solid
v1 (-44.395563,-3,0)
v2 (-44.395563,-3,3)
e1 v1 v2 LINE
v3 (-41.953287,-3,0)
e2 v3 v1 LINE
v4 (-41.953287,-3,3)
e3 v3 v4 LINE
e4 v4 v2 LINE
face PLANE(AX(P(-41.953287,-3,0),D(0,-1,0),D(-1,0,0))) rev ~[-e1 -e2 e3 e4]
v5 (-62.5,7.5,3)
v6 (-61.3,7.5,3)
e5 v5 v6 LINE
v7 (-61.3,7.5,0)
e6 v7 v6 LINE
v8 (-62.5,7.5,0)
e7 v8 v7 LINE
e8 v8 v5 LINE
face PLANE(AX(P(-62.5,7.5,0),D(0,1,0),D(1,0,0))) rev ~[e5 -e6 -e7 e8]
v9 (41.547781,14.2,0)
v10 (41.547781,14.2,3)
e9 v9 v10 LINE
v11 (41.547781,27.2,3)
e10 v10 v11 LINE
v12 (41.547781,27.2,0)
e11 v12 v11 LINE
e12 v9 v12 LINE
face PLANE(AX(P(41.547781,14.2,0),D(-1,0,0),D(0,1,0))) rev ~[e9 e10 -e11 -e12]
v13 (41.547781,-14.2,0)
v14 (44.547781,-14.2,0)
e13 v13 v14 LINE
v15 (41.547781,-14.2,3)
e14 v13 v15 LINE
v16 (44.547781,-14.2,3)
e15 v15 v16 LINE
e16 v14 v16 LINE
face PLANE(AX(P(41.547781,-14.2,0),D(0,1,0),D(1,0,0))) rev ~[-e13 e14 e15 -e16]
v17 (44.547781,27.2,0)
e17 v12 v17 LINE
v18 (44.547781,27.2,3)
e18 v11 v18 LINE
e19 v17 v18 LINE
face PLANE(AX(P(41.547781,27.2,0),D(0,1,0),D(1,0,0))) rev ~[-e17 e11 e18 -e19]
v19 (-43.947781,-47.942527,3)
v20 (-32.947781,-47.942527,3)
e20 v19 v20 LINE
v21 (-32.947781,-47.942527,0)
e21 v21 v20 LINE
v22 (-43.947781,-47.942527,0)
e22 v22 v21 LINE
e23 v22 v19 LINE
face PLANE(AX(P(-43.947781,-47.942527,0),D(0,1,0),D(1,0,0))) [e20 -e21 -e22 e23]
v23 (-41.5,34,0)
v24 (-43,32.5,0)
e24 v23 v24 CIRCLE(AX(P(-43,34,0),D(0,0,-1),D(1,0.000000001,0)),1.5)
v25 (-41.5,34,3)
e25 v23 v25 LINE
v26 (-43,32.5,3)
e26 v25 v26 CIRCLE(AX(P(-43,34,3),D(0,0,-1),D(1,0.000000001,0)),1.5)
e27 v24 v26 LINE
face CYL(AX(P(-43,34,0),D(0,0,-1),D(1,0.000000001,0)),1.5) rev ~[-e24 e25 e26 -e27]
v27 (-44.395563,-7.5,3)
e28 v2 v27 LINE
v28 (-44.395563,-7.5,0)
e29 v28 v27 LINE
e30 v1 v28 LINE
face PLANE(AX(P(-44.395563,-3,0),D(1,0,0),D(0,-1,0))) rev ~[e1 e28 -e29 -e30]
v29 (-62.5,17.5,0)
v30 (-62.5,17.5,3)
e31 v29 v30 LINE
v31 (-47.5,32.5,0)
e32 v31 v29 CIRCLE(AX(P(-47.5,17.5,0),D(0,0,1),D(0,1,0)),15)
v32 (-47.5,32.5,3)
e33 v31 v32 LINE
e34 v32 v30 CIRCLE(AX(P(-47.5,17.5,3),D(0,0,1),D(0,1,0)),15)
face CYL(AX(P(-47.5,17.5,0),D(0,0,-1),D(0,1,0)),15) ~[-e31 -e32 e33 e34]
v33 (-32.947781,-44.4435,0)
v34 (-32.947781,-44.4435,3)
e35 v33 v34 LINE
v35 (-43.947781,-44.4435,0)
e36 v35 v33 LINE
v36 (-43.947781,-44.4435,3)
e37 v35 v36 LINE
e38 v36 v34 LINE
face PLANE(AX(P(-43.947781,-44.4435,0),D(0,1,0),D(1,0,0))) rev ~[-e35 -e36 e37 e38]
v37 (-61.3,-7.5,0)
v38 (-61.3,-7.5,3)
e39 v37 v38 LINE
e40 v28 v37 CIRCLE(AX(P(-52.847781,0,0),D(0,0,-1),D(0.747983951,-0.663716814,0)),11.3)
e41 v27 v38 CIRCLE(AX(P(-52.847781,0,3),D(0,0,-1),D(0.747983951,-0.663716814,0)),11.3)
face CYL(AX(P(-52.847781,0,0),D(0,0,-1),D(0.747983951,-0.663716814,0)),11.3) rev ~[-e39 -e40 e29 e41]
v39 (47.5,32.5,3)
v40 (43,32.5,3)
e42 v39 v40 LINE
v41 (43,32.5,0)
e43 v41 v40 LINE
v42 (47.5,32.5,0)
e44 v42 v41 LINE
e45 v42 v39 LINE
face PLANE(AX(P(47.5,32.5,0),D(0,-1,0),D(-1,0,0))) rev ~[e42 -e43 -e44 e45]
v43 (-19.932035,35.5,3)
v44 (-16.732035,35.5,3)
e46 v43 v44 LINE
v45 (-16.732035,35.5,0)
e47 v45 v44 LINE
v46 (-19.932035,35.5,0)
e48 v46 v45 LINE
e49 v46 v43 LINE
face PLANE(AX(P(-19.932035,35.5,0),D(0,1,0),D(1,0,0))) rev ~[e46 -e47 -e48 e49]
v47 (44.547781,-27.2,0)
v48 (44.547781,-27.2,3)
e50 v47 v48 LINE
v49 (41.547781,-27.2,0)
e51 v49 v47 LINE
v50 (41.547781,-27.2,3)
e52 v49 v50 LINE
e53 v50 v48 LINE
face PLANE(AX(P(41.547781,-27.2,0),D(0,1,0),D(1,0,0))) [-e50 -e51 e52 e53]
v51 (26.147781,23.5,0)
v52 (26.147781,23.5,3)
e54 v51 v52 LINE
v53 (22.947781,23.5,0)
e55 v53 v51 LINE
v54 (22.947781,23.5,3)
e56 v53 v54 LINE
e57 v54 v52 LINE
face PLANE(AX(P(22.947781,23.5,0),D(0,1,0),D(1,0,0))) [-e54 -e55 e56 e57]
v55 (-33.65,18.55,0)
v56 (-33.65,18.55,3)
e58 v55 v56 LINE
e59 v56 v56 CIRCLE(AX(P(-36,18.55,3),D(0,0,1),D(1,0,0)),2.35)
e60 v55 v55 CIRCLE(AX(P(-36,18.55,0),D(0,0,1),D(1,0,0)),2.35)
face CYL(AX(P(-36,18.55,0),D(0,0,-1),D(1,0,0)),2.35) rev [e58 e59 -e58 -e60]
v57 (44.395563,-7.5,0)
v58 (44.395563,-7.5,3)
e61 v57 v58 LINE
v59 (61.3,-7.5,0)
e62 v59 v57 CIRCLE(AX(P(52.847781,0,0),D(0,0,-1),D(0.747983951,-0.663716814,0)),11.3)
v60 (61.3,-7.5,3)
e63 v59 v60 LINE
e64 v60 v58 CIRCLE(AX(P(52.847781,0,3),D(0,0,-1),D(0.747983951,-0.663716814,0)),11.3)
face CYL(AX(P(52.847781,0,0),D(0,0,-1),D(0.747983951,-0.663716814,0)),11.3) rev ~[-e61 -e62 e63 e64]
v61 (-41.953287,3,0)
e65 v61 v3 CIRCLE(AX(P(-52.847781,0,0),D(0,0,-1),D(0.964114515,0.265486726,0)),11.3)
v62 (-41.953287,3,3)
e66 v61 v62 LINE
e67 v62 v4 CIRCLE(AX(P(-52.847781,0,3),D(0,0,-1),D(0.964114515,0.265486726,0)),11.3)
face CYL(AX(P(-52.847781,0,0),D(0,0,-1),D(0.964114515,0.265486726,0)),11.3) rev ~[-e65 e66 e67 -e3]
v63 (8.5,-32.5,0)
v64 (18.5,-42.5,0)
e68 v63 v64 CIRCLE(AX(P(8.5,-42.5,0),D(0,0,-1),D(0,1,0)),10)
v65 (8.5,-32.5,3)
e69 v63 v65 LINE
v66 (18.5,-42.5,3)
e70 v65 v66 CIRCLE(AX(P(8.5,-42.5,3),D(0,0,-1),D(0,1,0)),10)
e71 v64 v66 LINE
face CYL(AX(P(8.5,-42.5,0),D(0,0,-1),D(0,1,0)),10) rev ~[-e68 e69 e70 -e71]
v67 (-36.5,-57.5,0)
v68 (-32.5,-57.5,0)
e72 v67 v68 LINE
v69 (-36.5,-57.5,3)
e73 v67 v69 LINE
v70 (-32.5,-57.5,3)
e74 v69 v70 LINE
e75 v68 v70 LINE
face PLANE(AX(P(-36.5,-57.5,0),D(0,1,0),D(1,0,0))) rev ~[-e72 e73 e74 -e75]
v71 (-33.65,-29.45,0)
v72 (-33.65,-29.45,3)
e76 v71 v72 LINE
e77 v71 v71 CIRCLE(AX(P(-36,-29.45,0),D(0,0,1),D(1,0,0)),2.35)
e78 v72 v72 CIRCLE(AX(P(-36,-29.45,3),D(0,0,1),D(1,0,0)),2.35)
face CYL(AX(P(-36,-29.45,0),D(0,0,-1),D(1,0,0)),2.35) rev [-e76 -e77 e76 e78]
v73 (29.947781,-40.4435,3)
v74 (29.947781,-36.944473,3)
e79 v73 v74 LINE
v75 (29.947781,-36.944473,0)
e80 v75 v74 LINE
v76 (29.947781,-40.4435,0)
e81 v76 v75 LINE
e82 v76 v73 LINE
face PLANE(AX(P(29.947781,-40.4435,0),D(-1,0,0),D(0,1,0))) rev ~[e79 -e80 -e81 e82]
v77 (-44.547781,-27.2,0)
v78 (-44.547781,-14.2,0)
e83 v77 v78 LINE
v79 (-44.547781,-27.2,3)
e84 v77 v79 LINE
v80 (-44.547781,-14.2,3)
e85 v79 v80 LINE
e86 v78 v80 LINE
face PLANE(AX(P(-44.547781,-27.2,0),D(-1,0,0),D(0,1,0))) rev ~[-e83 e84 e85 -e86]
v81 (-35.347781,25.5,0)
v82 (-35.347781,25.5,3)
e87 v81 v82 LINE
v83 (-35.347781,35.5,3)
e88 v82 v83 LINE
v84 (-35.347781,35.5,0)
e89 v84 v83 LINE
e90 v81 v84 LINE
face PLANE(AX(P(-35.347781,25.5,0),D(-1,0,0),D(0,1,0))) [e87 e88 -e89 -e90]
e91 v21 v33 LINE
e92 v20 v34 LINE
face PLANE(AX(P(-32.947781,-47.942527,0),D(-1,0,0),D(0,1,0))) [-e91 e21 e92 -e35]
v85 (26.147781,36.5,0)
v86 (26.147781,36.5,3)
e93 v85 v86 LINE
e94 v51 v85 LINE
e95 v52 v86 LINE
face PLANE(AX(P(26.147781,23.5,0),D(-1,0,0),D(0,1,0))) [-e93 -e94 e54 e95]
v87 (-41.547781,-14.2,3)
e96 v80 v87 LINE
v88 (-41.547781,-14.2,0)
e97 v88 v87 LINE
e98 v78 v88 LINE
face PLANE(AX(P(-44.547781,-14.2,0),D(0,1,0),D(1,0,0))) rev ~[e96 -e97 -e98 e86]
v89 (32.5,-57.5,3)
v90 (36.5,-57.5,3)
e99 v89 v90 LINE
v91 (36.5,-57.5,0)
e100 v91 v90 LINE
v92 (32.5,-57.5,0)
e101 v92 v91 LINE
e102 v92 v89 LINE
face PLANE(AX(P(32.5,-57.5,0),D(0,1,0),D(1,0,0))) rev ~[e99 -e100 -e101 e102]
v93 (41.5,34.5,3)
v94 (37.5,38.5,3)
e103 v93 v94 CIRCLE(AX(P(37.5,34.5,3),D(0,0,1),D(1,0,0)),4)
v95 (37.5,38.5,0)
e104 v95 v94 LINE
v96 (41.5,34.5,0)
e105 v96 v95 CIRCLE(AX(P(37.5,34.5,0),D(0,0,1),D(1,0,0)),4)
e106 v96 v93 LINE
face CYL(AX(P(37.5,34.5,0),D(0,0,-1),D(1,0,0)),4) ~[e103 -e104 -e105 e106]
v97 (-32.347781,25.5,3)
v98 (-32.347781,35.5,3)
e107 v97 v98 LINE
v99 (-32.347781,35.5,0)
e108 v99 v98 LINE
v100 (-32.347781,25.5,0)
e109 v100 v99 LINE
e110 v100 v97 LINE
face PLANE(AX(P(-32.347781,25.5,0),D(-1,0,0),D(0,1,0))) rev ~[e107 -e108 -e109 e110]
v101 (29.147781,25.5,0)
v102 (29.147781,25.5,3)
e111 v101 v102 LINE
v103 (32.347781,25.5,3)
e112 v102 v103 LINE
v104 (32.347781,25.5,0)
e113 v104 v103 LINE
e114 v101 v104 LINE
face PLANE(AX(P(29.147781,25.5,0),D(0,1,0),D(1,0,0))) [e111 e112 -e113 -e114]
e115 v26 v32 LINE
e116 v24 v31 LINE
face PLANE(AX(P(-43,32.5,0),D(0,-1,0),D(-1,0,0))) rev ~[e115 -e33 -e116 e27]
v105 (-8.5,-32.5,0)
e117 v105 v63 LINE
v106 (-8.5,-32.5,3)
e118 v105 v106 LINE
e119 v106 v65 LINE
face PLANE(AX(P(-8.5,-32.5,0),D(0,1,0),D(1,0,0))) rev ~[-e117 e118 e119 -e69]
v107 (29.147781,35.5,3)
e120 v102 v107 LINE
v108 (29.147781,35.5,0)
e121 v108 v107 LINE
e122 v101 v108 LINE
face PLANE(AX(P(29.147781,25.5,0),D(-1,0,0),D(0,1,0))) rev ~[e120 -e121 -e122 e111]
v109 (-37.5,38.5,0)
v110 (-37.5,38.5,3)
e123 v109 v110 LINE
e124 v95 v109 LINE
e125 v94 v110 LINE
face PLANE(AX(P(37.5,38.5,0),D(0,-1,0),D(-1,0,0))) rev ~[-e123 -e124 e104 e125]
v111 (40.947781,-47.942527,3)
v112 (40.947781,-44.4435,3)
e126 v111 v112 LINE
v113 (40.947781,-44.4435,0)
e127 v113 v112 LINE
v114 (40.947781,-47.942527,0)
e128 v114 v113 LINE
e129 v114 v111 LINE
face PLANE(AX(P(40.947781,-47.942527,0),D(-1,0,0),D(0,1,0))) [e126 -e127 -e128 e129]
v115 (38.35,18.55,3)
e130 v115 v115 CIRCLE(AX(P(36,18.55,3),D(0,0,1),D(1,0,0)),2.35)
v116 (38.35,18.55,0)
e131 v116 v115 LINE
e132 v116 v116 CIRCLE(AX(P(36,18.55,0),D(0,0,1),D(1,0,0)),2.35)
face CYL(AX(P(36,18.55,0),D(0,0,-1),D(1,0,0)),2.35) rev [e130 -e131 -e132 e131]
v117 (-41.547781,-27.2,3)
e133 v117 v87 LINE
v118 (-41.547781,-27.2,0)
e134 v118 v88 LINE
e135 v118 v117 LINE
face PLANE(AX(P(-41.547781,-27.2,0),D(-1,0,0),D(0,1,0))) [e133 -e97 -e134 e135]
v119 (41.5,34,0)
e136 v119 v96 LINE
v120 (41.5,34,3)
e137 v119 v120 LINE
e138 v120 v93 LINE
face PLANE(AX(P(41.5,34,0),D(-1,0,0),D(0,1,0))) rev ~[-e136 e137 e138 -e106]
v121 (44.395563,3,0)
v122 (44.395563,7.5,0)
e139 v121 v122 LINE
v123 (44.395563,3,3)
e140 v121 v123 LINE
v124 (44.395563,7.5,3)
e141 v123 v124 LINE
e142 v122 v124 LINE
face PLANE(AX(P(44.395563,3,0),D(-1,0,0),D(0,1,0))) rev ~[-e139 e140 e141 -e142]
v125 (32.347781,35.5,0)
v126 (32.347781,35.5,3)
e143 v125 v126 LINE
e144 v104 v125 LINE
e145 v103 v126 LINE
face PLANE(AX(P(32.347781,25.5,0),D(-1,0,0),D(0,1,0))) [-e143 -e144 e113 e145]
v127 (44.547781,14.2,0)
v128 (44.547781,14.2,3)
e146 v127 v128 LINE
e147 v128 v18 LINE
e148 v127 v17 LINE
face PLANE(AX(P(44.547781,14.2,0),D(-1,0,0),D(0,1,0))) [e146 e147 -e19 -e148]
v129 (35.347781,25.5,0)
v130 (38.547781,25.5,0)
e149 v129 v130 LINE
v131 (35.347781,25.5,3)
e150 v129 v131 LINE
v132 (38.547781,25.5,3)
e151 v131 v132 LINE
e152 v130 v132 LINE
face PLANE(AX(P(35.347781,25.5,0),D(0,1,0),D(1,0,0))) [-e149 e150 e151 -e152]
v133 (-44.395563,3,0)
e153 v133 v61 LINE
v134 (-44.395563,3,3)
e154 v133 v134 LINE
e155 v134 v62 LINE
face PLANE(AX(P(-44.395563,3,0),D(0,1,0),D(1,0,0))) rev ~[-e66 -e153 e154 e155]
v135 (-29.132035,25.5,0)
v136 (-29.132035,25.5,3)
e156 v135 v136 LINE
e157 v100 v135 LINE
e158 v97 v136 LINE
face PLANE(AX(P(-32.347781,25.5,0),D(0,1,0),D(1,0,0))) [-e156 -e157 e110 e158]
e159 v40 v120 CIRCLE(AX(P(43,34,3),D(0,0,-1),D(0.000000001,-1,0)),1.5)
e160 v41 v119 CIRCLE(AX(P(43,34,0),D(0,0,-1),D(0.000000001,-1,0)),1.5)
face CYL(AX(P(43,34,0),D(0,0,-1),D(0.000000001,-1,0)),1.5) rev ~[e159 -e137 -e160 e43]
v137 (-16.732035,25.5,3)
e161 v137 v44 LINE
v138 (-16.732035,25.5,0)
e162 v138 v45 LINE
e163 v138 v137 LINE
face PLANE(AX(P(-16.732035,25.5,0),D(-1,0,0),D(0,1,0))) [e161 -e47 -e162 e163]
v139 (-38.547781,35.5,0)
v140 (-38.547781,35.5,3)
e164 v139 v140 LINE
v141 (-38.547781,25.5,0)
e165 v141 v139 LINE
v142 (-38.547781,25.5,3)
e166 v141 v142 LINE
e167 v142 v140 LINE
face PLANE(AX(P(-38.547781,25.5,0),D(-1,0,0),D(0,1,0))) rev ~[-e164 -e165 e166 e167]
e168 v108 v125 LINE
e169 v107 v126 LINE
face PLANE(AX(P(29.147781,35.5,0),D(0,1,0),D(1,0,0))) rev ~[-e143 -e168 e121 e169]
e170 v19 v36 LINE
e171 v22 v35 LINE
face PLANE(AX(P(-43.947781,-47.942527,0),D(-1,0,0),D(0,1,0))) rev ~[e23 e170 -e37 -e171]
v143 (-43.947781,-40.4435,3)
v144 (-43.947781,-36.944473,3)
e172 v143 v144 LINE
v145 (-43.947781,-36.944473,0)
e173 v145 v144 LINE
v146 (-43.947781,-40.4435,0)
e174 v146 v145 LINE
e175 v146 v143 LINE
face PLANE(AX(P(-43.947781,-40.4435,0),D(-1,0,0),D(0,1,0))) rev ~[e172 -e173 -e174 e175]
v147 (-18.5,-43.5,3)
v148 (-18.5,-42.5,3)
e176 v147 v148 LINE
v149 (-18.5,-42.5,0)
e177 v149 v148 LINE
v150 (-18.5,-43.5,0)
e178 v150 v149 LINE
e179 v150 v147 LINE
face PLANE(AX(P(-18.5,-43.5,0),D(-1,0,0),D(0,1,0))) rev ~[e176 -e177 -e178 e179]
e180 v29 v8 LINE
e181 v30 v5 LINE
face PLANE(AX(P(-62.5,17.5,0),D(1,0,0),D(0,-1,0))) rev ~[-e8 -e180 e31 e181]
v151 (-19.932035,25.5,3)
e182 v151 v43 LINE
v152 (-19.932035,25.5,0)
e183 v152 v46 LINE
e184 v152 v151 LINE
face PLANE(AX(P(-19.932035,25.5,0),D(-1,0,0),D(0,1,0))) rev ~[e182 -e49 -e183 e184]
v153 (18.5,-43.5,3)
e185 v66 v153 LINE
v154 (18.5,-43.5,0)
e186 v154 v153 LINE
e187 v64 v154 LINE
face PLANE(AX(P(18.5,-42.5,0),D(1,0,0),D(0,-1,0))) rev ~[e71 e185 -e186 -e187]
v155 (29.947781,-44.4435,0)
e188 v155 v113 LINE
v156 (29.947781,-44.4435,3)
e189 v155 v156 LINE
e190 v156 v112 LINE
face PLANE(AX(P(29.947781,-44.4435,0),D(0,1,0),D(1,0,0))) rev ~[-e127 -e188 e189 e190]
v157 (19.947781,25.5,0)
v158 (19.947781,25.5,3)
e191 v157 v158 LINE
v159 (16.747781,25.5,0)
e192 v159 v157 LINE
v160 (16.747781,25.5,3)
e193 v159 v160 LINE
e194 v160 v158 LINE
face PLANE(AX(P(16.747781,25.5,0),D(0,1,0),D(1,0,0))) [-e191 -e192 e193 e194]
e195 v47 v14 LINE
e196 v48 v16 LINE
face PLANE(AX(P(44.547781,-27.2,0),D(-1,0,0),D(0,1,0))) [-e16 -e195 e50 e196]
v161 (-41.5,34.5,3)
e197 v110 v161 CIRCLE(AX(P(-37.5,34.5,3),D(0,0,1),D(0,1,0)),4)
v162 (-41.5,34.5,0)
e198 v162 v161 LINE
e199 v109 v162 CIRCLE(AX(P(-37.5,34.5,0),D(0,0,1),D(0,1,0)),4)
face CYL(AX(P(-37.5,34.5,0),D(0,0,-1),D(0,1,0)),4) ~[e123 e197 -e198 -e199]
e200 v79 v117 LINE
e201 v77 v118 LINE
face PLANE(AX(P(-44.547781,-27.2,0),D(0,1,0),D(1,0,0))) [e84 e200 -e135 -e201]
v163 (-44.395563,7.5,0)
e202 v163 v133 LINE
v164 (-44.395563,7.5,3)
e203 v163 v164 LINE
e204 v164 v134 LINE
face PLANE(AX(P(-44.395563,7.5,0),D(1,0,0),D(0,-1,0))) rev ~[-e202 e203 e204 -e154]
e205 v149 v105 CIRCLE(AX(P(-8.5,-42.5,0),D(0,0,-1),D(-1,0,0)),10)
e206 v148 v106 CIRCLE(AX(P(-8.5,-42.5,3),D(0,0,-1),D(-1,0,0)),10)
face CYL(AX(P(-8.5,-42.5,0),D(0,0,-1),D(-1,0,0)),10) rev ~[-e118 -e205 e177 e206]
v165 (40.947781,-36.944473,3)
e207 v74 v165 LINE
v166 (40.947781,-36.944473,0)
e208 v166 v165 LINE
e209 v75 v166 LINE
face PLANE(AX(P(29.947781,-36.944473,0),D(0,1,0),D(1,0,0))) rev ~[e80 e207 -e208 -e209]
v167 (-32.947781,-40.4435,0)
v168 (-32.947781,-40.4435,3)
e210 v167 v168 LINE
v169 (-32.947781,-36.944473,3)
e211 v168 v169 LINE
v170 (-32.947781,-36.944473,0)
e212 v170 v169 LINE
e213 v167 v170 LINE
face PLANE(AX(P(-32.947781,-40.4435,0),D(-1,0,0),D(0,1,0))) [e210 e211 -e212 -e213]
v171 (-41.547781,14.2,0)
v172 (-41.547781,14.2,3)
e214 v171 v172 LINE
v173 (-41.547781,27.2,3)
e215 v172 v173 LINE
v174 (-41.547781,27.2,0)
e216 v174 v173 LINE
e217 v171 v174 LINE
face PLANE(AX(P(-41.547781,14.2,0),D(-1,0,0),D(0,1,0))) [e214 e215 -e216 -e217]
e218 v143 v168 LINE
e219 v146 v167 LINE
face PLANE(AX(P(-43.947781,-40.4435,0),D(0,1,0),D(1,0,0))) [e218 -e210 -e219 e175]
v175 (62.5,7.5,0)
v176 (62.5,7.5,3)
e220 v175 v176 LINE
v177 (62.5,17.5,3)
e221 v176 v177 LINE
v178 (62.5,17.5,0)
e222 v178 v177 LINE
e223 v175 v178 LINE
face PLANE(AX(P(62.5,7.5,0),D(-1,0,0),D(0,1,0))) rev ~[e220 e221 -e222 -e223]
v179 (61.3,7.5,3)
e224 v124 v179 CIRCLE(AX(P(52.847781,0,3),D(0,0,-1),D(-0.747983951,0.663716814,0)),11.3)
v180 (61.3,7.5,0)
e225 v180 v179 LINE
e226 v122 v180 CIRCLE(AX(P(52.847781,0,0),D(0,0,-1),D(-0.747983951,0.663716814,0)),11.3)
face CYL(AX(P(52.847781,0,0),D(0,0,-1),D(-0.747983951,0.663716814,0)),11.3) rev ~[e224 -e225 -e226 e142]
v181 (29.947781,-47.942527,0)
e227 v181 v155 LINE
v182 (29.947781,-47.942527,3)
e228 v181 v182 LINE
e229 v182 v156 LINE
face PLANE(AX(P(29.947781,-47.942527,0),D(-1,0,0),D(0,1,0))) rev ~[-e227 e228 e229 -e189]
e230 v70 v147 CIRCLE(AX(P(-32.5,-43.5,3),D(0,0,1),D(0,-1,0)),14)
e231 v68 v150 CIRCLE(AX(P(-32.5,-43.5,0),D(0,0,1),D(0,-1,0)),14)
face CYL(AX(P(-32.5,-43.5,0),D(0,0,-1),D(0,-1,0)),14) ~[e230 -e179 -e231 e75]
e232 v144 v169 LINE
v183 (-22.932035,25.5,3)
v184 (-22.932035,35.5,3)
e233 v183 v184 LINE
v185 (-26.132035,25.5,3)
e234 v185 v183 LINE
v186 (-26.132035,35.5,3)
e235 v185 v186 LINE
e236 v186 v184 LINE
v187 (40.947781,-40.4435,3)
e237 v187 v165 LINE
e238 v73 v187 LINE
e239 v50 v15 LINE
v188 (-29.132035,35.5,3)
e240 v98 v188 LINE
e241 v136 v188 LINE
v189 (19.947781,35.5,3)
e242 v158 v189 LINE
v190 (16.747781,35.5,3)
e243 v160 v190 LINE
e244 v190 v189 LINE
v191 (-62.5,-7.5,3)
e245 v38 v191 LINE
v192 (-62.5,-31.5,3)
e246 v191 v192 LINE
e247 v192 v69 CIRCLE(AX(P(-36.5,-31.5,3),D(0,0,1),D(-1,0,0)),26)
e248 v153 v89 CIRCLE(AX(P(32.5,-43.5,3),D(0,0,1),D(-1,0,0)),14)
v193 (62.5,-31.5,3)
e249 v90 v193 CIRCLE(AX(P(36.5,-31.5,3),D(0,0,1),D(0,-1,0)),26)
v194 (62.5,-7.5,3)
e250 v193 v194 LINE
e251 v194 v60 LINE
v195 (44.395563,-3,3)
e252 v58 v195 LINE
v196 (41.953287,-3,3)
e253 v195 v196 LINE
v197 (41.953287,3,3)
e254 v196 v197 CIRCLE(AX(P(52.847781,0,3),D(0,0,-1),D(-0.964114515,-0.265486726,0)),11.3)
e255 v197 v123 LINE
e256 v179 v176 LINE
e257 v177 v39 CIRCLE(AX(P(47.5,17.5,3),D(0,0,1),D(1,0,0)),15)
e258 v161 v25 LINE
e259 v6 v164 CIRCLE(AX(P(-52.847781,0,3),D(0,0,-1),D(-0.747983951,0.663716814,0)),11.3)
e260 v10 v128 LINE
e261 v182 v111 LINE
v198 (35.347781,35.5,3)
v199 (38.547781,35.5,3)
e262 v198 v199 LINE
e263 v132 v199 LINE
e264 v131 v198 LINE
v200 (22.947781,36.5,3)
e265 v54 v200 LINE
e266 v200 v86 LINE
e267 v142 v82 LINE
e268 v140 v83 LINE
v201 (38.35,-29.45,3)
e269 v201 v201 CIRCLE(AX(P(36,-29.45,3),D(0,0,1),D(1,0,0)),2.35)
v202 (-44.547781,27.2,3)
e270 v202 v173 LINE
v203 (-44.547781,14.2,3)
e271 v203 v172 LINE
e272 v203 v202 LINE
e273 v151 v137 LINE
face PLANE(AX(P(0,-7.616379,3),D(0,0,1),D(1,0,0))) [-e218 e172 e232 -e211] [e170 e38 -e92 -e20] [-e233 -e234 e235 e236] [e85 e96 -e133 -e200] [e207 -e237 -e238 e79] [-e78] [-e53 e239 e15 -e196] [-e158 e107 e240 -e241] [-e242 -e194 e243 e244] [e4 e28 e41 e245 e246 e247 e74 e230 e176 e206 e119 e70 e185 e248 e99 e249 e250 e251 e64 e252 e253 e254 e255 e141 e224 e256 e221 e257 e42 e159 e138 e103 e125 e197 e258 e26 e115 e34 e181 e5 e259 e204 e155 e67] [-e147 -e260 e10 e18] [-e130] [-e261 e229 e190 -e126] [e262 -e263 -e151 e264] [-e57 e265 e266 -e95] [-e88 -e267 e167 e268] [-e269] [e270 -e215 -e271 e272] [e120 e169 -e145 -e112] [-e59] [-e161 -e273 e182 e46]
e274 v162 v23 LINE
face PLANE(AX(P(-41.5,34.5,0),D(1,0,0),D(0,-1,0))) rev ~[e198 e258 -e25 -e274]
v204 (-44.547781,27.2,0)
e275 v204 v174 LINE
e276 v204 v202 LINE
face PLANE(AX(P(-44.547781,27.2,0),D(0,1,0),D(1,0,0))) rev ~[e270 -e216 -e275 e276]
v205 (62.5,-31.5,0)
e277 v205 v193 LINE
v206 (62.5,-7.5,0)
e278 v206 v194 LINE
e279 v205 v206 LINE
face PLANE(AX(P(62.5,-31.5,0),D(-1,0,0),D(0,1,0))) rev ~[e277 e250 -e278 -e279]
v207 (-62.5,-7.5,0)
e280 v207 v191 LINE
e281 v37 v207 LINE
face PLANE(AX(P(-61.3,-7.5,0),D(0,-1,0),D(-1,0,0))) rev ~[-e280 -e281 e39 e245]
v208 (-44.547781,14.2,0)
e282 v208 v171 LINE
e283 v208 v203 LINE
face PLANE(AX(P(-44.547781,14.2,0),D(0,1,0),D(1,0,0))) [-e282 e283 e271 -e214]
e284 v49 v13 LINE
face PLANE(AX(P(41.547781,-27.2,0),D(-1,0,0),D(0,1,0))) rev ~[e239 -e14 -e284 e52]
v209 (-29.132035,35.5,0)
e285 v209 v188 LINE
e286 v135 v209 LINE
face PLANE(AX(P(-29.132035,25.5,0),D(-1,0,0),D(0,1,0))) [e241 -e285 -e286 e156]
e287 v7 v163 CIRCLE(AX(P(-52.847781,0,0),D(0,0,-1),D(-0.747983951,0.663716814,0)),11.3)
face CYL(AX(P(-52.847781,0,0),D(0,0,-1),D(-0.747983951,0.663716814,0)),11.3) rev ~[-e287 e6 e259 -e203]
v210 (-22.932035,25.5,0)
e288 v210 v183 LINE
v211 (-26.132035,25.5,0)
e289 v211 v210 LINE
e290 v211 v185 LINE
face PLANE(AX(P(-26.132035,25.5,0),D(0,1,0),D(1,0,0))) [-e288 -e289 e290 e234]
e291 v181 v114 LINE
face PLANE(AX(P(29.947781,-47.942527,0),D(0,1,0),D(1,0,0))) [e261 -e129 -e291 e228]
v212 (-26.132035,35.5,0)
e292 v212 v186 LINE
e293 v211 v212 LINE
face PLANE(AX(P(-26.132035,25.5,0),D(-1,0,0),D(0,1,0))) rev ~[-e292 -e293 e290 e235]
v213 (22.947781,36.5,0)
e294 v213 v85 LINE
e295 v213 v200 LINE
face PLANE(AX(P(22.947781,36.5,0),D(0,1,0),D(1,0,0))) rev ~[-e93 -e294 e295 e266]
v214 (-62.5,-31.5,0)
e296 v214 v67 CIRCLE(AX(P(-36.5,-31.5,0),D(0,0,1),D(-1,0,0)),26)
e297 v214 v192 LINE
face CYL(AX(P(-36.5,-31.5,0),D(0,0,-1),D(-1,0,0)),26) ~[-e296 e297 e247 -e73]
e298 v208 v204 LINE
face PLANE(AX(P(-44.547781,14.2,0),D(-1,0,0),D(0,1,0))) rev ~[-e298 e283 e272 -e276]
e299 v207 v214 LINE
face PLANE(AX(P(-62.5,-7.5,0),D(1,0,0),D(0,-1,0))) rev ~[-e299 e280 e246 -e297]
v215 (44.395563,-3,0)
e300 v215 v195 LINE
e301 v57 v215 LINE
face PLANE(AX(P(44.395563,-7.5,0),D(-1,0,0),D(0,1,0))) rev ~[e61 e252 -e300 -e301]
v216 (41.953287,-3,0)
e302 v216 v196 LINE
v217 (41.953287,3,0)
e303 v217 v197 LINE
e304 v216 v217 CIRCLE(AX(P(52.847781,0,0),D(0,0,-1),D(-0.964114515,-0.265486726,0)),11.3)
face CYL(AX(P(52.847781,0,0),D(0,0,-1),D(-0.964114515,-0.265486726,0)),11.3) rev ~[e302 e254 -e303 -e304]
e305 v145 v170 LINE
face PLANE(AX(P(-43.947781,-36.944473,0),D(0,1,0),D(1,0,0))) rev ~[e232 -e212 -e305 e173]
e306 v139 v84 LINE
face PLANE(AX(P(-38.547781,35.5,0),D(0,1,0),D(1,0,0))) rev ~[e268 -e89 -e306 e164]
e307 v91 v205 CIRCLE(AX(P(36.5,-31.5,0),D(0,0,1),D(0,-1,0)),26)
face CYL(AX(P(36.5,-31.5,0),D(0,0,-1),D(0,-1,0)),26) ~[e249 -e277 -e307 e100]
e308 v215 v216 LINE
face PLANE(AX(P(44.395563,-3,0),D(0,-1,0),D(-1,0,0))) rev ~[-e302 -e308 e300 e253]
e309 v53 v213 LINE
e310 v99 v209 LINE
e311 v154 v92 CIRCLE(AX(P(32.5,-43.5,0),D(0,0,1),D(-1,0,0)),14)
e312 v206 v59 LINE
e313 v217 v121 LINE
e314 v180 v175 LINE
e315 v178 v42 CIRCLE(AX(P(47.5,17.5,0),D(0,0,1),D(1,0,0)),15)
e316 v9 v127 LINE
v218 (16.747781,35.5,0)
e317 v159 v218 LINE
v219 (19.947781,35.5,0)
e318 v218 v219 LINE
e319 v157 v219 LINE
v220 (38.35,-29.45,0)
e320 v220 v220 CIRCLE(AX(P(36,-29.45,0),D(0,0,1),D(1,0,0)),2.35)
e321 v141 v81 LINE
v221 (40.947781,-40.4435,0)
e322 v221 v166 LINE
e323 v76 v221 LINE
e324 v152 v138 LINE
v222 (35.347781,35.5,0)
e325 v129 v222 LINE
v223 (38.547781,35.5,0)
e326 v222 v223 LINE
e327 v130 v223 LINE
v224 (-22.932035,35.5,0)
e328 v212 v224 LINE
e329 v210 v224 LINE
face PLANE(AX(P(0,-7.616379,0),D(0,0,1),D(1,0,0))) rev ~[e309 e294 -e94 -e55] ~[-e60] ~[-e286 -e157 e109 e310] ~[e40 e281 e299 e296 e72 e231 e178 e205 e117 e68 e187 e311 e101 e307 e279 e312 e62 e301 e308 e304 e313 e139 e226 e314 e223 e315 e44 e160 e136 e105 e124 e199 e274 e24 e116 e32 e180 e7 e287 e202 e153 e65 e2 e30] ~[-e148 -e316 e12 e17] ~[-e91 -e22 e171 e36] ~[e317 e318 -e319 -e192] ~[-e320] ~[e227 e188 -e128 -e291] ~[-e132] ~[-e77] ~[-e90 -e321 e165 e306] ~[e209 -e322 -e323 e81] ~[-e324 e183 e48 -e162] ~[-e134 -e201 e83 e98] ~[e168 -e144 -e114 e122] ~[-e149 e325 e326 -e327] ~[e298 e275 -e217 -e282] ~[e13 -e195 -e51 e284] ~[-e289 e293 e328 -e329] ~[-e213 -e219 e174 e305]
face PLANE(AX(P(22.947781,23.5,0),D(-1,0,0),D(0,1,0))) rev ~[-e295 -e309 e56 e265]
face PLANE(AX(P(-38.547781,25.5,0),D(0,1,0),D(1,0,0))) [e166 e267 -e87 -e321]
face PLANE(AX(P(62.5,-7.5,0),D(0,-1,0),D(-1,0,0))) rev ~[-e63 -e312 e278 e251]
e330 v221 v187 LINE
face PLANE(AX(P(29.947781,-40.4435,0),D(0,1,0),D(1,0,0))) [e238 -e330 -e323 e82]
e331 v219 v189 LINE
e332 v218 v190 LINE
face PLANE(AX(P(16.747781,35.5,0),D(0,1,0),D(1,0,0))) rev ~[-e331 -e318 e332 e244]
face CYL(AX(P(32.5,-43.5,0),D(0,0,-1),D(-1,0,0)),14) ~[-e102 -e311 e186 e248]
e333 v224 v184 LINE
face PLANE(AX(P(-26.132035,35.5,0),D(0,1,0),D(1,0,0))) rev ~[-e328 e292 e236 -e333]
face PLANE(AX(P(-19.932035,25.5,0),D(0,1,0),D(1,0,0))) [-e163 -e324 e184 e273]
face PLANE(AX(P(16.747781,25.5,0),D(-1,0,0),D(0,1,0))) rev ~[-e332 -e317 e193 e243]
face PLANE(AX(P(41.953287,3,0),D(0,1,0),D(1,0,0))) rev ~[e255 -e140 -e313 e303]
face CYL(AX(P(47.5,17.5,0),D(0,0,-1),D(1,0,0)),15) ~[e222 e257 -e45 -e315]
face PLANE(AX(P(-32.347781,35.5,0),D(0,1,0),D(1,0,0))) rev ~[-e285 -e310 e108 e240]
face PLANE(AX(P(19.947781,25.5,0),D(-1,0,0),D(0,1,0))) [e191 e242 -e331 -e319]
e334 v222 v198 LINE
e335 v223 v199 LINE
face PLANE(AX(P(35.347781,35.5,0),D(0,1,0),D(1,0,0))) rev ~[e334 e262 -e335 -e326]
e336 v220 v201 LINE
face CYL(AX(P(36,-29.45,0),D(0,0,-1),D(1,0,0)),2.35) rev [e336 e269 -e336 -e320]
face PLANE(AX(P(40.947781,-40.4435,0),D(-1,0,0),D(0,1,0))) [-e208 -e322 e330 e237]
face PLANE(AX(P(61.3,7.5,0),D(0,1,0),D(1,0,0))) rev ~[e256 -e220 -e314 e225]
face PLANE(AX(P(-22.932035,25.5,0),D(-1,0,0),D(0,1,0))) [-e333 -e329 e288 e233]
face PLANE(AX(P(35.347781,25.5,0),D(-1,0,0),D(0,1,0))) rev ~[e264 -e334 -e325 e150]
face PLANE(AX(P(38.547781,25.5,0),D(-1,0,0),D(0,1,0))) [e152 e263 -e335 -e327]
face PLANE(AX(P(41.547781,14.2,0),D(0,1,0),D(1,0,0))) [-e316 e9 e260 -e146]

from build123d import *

# Parameters (mm, degrees)
SKICA2_R                = 2.35
SKICA2_W                = 11
SKICA2_H                = 3.499027085
SKICA2_W_2              = 3
SKICA2_H_2              = 13
SKICA2_W_3              = 3.2
SKICA2_H_3              = 10
SKICA2_W_4              = 3.215746781
P_IDAT_VYSUNUT_M1_DEPTH = 3


with BuildPart() as part:
    # Skica2 → Přidat vysunutím1 (new body)
    with BuildSketch(Plane.XY):
        with BuildLine():
            Line((-62.5, 7.5), (-61.3, 7.5))
            ThreePointArc((-61.3, 7.5), (-52.847781356, 11.3), (-44.395562713, 7.5))
            Line((-44.395562713, 7.5), (-44.395562713, 3))
            Line((-44.395562713, 3), (-41.953287334, 3))
            ThreePointArc((-41.953287334, 3), (-41.547781356, 0), (-41.953287334, -3))
            Line((-41.953287334, -3), (-44.395562713, -3))
            Line((-44.395562713, -3), (-44.395562713, -7.5))
            ThreePointArc((-44.395562713, -7.5), (-52.847781356, -11.3), (-61.3, -7.5))
            Line((-61.3, -7.5), (-62.5, -7.5))
            Line((-62.5, -7.5), (-62.5, -16.780342451))
            Line((-62.5, -16.780342451), (-62.5, -31.5))
            ThreePointArc((-62.5, -31.5), (-54.884776311, -49.884776311), (-36.5, -57.5))
            Line((-36.5, -57.5), (-32.5, -57.5))
            ThreePointArc((-32.5, -57.5), (-22.600505063, -53.399494937), (-18.5, -43.5))
            Line((-18.5, -43.5), (-18.5, -42.5))
            ThreePointArc((-18.5, -42.5), (-15.571067812, -35.428932188), (-8.5, -32.5))
            Line((-8.5, -32.5), (8.5, -32.5))
            ThreePointArc((8.5, -32.5), (15.571067812, -35.428932188), (18.5, -42.5))
            Line((18.5, -42.5), (18.5, -43.5))
            ThreePointArc((18.5, -43.5), (22.600505063, -53.399494937), (32.5, -57.5))
            Line((32.5, -57.5), (36.5, -57.5))
            ThreePointArc((36.5, -57.5), (54.884776311, -49.884776311), (62.5, -31.5))
            Line((62.5, -31.5), (62.5, -18.974988021))
            Line((62.5, -18.974988021), (62.5, -7.5))
            Line((62.5, -7.5), (61.3, -7.5))
            ThreePointArc((61.3, -7.5), (52.847781356, -11.3), (44.395562713, -7.5))
            Line((44.395562713, -7.5), (44.395562713, -3))
            Line((44.395562713, -3), (41.953287334, -3))
            ThreePointArc((41.953287334, -3), (41.547781356, 0), (41.953287334, 3))
            Line((41.953287334, 3), (44.395562713, 3))
            Line((44.395562713, 3), (44.395562713, 7.5))
            ThreePointArc((44.395562713, 7.5), (52.847781356, 11.3), (61.3, 7.5))
            Line((61.3, 7.5), (62.5, 7.5))
            Line((62.5, 7.5), (62.5, 17.5))
            ThreePointArc((62.5, 17.5), (58.106601718, 28.106601718), (47.5, 32.5))
            Line((47.5, 32.5), (43, 32.5))
            ThreePointArc((43, 32.5), (41.939339828, 32.939339828), (41.5, 34))
            Line((41.5, 34), (41.5, 34.5))
            ThreePointArc((41.5, 34.5), (40.328427125, 37.328427125), (37.5, 38.5))
            Line((37.5, 38.5), (-37.5, 38.5))
            ThreePointArc((-37.5, 38.5), (-40.328427125, 37.328427125), (-41.5, 34.5))
            Line((-41.5, 34.5), (-41.5, 34))
            ThreePointArc((-41.5, 34), (-41.939339828, 32.939339828), (-43, 32.5))
            Line((-43, 32.5), (-47.5, 32.5))
            ThreePointArc((-47.5, 32.5), (-58.106601718, 28.106601718), (-62.5, 17.5))
            Line((-62.5, 17.5), (-62.5, 7.5))
        make_face()
        with Locations((-36, 18.55)):
            Circle(SKICA2_R, mode=Mode.SUBTRACT)
        with Locations((-36, -29.45)):
            Circle(SKICA2_R, mode=Mode.SUBTRACT)
        with Locations((36, -29.45)):
            Circle(SKICA2_R, mode=Mode.SUBTRACT)
        with Locations((36, 18.55)):
            Circle(SKICA2_R, mode=Mode.SUBTRACT)
        with Locations((-38.447781356, -46.193013209)):
            Rectangle(SKICA2_W, SKICA2_H, mode=Mode.SUBTRACT)
        with Locations((-38.447781356, -38.693986123)):
            Rectangle(SKICA2_W, SKICA2_H, mode=Mode.SUBTRACT)
        with Locations((-43.047781356, -20.7)):
            Rectangle(SKICA2_W_2, SKICA2_H_2, mode=Mode.SUBTRACT)
        with Locations((-43.047781356, 20.7)):
            Rectangle(SKICA2_W_2, SKICA2_H_2, mode=Mode.SUBTRACT)
        with Locations((43.047781356, -20.7)):
            Rectangle(SKICA2_W_2, SKICA2_H_2, mode=Mode.SUBTRACT)
        with Locations((43.047781356, 20.7)):
            Rectangle(SKICA2_W_2, SKICA2_H_2, mode=Mode.SUBTRACT)
        with Locations((-36.947781356, 30.5)):
            Rectangle(SKICA2_W_3, SKICA2_H_3, mode=Mode.SUBTRACT)
        with Locations((36.947781356, 30.5)):
            Rectangle(SKICA2_W_3, SKICA2_H_3, mode=Mode.SUBTRACT)
        with Locations((30.747781356, 30.5)):
            Rectangle(SKICA2_W_3, SKICA2_H_3, mode=Mode.SUBTRACT)
        with Locations((24.547781356, 30)):
            Rectangle(SKICA2_W_3, SKICA2_H_2, mode=Mode.SUBTRACT)
        with Locations((35.447781356, -38.693986123)):
            Rectangle(SKICA2_W, SKICA2_H, mode=Mode.SUBTRACT)
        with Locations((-30.739907966, 30.5)):
            Rectangle(SKICA2_W_4, SKICA2_H_3, mode=Mode.SUBTRACT)
        with Locations((-24.532034575, 30.5)):
            Rectangle(SKICA2_W_3, SKICA2_H_3, mode=Mode.SUBTRACT)
        with Locations((-18.332034575, 30.5)):
            Rectangle(SKICA2_W_3, SKICA2_H_3, mode=Mode.SUBTRACT)
        with Locations((18.347781356, 30.5)):
            Rectangle(SKICA2_W_3, SKICA2_H_3, mode=Mode.SUBTRACT)
        with Locations((35.447781356, -46.193013209)):
            Rectangle(SKICA2_W, SKICA2_H, mode=Mode.SUBTRACT)
    extrude(amount=P_IDAT_VYSUNUT_M1_DEPTH)


solid = part.part
